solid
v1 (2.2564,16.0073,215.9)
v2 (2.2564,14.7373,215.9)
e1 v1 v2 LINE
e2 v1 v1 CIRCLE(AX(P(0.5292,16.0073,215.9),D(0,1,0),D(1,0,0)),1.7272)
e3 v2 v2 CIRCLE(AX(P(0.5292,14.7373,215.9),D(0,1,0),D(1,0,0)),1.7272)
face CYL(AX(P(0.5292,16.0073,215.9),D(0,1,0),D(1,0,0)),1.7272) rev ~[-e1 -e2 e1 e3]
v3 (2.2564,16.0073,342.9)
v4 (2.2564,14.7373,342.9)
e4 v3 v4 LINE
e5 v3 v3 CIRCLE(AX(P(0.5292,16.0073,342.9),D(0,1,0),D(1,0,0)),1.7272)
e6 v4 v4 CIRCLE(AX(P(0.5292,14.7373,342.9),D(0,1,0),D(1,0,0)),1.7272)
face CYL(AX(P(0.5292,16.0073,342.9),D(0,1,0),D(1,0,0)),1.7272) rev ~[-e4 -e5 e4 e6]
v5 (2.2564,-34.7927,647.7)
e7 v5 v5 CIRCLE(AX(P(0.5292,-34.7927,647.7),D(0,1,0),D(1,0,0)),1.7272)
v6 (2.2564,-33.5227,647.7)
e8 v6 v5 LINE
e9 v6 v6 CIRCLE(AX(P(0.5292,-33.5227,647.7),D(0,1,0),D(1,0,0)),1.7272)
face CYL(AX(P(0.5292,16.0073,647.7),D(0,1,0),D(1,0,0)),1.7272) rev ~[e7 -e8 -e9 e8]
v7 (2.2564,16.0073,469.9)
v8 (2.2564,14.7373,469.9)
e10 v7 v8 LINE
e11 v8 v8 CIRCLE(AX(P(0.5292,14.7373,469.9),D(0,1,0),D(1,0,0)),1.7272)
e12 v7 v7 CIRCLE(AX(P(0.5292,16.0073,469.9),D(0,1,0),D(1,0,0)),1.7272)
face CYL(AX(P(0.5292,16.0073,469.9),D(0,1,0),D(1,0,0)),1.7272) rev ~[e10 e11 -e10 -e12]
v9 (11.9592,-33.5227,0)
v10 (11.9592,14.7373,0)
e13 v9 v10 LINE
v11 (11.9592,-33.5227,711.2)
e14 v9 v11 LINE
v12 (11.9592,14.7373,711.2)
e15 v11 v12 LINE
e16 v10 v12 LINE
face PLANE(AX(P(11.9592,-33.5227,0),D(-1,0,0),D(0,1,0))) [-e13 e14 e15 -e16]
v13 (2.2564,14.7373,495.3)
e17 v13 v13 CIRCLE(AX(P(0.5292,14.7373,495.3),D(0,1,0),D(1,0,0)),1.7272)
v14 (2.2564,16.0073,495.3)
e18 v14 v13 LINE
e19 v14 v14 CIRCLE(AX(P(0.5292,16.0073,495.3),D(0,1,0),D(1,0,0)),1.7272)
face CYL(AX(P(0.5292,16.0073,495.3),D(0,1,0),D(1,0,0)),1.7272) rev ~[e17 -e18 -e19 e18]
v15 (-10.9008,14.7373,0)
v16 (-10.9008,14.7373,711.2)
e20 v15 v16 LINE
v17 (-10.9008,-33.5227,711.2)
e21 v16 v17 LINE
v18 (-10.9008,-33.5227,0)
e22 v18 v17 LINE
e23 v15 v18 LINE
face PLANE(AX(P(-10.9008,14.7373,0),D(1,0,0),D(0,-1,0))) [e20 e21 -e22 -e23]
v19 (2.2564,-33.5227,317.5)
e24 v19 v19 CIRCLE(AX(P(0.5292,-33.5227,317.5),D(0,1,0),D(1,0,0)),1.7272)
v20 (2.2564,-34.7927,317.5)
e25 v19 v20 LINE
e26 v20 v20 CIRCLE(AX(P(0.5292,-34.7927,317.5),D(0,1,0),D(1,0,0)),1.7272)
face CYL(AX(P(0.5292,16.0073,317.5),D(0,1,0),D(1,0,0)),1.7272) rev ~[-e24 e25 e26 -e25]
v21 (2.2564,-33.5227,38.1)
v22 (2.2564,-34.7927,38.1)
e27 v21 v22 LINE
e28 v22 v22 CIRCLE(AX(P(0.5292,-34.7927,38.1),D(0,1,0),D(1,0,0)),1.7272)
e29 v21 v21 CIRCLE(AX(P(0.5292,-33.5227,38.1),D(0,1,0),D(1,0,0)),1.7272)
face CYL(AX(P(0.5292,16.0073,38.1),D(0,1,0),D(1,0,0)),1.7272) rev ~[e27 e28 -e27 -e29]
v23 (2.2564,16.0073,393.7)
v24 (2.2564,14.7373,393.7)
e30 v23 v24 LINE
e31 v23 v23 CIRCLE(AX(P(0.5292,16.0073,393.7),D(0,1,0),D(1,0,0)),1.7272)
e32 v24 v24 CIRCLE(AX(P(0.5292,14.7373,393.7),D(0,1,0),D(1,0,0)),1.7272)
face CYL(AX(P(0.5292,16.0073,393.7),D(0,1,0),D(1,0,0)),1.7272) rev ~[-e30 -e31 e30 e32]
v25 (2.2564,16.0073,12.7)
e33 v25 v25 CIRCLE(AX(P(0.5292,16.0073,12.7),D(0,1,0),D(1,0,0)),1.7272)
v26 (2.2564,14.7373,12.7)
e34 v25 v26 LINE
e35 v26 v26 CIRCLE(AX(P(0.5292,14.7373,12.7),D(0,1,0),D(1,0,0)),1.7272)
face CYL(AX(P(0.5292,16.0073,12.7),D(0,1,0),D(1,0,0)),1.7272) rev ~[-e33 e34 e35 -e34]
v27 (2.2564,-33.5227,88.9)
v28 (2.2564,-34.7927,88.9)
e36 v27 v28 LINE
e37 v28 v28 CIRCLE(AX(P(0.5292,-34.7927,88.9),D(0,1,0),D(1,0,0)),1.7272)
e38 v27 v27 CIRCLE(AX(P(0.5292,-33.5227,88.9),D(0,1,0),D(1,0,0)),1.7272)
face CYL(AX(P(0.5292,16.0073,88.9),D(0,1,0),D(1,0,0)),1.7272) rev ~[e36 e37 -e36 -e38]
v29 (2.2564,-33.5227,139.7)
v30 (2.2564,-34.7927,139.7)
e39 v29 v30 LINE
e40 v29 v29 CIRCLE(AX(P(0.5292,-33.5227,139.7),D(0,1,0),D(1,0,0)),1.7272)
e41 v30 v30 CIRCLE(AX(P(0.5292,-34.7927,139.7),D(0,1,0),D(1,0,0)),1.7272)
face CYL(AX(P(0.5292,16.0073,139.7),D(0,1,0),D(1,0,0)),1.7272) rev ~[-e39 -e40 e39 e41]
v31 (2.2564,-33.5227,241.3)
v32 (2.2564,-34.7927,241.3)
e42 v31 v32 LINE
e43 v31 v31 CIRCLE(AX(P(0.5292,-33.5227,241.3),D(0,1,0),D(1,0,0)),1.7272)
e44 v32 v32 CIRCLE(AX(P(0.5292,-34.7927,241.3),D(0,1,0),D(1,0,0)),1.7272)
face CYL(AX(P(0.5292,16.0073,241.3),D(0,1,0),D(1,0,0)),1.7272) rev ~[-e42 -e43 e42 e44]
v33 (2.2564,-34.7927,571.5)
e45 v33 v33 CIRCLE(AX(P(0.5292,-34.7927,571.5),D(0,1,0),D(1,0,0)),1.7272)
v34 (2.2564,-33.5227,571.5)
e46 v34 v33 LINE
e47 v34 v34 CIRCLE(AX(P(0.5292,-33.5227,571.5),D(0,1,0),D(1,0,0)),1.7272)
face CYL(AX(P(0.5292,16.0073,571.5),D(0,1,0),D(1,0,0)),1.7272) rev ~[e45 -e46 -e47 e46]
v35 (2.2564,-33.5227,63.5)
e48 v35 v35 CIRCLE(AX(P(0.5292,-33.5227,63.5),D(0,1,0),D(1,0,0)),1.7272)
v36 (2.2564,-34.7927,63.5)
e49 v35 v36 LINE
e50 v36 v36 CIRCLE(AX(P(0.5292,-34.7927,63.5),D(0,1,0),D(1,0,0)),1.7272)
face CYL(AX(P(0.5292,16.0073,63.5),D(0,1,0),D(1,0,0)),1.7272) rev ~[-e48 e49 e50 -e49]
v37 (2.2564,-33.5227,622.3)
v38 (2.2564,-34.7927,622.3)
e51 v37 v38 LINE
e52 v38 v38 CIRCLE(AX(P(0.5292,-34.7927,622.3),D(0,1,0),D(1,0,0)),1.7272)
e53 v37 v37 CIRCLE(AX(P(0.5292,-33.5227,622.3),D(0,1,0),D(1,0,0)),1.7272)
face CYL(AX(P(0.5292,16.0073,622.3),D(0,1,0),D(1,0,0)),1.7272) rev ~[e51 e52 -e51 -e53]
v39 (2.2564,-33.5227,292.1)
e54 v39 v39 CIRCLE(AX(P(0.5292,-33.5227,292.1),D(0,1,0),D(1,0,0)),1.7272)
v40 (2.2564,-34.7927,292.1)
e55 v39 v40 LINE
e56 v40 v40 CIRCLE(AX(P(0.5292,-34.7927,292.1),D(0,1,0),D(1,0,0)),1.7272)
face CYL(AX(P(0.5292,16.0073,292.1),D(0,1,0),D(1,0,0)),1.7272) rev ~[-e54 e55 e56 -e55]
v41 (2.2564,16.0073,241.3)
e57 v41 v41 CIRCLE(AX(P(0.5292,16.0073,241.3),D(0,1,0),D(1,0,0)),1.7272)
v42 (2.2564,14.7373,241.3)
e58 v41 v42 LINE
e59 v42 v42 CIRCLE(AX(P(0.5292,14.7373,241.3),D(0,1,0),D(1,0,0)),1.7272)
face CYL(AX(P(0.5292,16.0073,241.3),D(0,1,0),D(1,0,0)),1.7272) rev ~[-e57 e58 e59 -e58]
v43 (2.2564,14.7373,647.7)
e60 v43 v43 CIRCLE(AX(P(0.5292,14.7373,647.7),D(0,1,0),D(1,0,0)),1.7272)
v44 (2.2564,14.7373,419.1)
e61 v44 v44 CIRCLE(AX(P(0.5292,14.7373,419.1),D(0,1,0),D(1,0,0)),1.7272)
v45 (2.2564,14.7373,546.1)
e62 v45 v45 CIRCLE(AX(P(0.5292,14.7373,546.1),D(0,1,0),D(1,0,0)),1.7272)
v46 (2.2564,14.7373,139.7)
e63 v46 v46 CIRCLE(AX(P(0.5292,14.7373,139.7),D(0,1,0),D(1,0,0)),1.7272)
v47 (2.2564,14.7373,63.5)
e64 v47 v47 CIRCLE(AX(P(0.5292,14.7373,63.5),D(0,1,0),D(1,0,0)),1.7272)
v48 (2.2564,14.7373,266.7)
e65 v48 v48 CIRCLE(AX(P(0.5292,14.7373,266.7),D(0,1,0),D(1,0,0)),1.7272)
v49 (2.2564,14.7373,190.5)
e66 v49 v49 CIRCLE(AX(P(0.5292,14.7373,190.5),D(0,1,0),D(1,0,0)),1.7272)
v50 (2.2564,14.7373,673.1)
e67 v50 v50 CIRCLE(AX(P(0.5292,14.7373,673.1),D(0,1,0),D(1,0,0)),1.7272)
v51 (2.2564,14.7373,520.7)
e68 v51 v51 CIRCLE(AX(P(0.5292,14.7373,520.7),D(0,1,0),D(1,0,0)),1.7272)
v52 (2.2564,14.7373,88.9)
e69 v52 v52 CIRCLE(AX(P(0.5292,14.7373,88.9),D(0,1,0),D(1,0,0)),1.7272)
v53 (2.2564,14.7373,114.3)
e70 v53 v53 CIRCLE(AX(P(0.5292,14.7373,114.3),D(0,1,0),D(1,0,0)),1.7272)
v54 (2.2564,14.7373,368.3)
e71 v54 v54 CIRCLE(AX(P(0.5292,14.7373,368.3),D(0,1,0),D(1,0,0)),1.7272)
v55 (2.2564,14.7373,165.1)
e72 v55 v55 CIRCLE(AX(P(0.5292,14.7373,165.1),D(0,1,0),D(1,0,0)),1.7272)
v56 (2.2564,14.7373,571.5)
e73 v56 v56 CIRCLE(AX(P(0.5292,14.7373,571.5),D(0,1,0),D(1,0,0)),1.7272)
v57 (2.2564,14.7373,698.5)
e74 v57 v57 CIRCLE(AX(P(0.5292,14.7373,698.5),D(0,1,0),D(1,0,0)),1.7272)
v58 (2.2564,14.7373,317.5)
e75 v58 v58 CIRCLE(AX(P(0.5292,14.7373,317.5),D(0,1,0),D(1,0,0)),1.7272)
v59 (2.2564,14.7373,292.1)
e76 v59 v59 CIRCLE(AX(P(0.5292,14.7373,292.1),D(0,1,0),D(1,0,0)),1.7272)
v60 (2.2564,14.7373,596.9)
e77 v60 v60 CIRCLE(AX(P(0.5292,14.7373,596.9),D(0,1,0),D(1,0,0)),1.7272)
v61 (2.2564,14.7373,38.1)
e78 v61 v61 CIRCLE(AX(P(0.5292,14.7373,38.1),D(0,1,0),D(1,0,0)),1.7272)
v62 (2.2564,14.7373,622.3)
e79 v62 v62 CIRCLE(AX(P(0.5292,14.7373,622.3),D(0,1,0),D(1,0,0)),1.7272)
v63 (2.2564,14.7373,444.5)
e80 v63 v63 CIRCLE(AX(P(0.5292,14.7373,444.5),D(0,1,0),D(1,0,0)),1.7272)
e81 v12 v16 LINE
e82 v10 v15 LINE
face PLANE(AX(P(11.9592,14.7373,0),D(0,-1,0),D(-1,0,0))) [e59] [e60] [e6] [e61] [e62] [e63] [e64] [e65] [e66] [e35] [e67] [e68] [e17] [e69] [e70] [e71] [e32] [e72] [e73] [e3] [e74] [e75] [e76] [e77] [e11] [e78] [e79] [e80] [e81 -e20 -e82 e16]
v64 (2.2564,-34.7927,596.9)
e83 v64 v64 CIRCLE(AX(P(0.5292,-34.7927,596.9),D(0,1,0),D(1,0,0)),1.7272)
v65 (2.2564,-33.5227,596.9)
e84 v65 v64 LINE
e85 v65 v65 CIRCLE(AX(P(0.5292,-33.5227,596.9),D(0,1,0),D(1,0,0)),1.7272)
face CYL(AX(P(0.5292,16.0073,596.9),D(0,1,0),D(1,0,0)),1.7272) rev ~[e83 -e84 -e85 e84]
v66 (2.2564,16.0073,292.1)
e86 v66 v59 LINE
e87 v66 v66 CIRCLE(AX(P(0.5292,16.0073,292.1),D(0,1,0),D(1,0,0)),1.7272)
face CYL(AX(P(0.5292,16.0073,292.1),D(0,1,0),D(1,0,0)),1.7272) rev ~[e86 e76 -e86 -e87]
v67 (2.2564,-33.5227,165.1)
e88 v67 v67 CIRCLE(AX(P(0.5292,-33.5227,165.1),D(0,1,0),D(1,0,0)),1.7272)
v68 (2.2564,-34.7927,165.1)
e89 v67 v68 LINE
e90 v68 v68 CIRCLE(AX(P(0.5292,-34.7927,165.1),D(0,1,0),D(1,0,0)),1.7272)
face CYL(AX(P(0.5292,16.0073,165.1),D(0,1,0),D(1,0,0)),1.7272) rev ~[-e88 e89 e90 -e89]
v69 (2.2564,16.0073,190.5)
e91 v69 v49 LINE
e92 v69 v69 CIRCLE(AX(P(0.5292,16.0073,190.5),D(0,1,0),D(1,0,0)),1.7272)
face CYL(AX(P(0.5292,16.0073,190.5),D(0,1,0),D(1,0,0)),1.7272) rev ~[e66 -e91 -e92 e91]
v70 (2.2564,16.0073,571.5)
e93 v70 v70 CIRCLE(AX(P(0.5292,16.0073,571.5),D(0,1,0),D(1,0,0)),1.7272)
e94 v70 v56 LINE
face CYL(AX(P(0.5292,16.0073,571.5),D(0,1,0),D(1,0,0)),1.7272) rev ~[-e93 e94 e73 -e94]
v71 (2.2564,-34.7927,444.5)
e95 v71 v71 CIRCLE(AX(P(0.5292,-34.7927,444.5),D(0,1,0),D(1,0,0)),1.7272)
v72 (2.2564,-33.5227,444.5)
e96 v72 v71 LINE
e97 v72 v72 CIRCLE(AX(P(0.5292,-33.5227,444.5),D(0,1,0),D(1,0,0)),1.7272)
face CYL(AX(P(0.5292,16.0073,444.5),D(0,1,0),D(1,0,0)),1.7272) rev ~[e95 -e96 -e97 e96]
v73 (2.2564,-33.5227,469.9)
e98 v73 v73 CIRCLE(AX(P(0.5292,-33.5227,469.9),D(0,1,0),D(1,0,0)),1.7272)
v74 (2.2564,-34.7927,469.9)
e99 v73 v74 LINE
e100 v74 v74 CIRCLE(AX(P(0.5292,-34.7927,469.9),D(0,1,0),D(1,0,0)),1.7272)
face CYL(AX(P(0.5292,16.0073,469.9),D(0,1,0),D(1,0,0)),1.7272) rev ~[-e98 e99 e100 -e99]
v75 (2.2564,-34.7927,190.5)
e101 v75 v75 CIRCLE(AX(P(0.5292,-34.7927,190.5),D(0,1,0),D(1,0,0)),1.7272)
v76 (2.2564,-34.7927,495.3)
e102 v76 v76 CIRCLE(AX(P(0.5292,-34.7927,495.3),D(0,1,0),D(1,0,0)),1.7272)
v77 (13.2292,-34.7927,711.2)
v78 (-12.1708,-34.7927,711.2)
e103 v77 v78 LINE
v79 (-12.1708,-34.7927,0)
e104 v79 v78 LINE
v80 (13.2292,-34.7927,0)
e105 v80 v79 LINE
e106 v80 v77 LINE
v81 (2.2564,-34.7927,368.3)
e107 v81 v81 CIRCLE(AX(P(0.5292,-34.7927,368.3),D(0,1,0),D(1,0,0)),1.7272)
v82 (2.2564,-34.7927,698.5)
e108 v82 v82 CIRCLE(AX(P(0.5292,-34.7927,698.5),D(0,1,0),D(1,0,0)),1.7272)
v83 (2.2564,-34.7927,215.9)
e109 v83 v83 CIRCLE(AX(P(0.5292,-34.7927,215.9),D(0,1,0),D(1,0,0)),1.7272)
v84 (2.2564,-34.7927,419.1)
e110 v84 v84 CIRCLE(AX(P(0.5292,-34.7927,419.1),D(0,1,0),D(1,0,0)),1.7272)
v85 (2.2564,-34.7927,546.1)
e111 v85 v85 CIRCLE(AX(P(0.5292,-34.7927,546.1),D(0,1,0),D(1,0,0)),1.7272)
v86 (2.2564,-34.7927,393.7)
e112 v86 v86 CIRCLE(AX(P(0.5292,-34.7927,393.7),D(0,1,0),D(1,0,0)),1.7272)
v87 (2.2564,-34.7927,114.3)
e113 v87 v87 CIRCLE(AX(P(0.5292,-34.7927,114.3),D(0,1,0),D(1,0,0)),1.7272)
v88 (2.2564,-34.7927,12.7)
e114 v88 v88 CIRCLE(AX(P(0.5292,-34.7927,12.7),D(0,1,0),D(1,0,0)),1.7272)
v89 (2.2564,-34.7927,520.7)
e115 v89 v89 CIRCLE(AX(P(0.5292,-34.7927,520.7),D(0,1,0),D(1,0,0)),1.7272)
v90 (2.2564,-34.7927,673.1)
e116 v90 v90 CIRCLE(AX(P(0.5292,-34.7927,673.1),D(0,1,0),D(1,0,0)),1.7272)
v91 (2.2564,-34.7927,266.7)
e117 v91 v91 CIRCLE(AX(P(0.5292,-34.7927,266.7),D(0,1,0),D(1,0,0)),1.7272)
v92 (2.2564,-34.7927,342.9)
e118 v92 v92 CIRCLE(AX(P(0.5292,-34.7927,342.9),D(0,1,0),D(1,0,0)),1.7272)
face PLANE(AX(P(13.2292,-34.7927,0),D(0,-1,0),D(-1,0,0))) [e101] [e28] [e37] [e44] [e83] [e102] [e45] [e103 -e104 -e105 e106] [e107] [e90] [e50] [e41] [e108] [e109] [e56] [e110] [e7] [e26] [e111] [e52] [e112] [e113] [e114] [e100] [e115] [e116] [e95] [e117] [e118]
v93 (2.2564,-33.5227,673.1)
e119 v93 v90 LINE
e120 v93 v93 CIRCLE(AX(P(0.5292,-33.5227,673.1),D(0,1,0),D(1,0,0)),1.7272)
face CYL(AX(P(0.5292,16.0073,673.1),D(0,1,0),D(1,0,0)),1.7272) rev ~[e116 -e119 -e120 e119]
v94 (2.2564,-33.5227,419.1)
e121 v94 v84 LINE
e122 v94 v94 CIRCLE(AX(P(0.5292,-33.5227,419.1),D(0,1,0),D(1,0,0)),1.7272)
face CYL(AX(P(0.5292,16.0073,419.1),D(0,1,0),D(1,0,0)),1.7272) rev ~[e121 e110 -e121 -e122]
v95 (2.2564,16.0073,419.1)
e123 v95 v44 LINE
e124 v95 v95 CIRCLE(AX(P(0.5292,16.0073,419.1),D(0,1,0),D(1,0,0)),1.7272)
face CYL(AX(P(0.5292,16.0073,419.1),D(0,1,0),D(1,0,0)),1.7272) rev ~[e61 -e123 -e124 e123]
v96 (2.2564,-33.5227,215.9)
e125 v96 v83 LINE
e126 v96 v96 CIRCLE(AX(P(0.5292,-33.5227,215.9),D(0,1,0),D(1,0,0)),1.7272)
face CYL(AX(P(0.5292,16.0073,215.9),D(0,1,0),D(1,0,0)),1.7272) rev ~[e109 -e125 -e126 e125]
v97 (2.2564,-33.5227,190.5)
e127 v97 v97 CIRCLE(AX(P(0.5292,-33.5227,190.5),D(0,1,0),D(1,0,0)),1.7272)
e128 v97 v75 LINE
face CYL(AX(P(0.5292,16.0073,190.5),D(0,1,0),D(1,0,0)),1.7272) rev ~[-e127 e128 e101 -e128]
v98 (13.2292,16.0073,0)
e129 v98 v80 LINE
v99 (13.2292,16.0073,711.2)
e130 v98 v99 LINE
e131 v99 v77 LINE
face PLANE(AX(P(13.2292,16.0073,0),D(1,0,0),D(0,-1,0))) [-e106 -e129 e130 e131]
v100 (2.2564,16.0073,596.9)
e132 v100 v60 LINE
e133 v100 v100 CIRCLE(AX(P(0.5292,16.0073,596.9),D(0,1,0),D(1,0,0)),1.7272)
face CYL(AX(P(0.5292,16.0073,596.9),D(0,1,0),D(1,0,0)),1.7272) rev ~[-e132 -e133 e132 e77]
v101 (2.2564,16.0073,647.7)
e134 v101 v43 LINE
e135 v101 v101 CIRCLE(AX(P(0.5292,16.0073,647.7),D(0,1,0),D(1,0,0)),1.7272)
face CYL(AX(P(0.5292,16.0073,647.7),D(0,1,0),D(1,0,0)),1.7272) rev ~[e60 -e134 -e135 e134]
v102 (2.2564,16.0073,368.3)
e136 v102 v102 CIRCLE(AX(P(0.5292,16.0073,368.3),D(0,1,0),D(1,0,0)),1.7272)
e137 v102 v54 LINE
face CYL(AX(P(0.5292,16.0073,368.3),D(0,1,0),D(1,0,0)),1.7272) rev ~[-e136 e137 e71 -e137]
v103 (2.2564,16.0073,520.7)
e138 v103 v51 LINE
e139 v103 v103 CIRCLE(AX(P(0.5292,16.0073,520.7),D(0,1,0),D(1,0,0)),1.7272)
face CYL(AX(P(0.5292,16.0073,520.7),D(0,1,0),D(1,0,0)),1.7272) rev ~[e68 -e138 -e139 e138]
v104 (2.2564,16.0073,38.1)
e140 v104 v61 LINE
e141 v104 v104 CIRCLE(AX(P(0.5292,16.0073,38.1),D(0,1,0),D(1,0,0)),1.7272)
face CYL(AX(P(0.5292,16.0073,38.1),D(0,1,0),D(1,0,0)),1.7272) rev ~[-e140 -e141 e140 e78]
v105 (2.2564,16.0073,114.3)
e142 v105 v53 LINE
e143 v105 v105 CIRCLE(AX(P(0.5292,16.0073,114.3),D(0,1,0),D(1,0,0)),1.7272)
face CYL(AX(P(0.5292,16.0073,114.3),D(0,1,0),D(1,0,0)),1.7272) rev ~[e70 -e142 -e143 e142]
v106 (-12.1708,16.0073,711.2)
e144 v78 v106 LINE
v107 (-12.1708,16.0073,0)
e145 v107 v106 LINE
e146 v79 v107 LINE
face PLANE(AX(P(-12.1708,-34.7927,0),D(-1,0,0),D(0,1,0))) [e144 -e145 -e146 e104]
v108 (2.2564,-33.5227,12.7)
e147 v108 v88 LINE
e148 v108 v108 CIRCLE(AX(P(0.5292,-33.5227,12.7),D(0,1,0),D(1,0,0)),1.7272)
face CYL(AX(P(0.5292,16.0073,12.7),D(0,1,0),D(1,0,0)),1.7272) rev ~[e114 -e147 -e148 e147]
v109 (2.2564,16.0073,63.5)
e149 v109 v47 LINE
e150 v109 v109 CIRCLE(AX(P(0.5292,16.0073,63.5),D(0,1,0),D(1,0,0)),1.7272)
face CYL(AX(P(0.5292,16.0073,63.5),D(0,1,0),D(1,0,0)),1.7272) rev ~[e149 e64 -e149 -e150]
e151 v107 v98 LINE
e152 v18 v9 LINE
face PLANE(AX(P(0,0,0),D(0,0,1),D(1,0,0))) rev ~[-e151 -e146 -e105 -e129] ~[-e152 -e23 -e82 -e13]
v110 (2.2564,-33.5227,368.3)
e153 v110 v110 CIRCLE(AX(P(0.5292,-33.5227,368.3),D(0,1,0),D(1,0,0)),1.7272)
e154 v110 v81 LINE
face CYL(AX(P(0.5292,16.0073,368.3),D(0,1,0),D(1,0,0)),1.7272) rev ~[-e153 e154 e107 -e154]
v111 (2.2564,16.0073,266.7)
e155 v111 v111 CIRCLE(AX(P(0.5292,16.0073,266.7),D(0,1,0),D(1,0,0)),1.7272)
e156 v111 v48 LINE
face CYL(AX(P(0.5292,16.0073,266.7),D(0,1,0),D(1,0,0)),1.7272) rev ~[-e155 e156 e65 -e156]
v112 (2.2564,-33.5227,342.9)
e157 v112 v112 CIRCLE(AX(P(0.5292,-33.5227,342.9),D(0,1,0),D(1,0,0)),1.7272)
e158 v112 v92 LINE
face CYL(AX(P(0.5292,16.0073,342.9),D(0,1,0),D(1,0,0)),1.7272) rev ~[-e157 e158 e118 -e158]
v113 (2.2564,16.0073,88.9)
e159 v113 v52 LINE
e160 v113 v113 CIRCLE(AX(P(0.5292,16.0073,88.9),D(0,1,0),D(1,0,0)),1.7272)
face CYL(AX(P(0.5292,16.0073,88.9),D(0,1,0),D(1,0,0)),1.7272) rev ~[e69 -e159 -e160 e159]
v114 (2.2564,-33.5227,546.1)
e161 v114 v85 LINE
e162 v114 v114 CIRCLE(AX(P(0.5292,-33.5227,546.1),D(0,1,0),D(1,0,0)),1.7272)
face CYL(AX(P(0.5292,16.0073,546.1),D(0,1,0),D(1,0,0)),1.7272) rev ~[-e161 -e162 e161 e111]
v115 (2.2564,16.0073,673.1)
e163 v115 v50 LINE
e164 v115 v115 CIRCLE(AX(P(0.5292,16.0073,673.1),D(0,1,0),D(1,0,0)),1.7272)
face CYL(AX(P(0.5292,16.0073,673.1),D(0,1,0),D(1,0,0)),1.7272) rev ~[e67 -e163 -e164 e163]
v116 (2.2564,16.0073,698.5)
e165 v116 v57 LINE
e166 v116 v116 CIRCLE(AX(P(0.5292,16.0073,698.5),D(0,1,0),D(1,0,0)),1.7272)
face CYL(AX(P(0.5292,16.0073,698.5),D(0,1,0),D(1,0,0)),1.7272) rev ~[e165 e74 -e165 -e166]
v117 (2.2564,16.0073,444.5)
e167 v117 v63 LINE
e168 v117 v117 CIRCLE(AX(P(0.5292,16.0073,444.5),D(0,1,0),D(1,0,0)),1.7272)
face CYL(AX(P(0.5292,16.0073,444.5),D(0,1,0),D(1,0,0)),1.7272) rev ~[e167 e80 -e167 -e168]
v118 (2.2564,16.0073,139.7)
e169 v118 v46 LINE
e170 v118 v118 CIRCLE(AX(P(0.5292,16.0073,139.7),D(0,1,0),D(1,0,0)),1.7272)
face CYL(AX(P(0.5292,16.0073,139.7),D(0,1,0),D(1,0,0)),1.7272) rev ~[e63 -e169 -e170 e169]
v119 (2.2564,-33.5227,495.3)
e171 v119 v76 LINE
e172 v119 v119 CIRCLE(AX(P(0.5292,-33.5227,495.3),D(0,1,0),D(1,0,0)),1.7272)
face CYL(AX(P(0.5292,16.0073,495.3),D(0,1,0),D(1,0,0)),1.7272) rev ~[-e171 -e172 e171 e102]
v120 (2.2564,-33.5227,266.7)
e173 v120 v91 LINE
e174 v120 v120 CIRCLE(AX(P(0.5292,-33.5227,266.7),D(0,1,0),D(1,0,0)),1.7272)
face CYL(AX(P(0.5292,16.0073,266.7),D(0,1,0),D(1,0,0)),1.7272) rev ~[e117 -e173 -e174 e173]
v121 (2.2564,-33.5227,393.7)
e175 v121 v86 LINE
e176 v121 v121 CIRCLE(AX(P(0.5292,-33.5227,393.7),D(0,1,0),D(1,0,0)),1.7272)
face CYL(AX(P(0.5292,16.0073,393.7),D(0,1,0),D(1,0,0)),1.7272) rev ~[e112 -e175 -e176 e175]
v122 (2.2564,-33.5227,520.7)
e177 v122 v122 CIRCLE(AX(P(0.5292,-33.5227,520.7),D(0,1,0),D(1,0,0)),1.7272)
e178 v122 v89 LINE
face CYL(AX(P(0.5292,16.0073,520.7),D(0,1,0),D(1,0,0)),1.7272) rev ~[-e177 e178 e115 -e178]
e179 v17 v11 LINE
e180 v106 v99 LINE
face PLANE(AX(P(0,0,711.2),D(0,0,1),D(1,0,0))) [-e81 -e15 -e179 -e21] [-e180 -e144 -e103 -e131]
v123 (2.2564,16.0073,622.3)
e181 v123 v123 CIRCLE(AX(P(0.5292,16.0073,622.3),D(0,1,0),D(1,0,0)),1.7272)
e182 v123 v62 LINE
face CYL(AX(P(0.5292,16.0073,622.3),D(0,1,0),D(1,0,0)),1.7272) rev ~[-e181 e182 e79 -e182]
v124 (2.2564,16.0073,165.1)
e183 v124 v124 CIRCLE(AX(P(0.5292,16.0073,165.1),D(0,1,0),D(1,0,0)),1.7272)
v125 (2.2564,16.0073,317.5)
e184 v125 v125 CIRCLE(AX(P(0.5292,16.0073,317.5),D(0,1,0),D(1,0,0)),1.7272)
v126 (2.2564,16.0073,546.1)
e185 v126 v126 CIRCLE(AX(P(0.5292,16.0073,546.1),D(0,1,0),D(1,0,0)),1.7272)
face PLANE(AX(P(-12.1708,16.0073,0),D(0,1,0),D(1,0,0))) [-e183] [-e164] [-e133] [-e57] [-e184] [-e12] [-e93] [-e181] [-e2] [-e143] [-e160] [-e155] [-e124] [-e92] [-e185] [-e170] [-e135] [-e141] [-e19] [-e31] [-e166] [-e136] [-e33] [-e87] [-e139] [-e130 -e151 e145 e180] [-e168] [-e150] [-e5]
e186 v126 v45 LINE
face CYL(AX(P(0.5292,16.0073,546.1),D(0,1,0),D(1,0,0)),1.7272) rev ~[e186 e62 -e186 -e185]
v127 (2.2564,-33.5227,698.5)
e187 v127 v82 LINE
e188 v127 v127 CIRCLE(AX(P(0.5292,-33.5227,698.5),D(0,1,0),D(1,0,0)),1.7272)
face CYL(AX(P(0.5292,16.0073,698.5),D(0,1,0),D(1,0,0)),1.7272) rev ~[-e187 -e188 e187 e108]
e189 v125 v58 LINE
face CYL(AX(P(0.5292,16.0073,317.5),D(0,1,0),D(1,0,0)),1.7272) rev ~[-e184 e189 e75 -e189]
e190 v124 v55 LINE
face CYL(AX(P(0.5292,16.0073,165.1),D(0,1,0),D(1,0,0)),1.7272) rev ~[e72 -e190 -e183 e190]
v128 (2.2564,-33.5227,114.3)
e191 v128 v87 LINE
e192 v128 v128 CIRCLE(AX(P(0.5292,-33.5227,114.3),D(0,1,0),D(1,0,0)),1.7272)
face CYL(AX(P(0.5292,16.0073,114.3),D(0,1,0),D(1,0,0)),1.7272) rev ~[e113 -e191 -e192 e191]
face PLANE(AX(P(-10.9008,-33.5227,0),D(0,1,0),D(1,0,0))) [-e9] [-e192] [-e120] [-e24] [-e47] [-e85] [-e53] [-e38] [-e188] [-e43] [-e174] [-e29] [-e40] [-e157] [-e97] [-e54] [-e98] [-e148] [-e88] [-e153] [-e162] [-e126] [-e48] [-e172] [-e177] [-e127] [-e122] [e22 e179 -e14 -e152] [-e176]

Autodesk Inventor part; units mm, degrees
ref_plane "YZ Plane" through (0, 0, 0) normal (1, 0, 0) x (0, 1, 0)
ref_plane "XZ Plane" through (0, 0, 0) normal (0, 1, 0) x (-1, 0, 0)
ref_plane "XY Plane" through (0, 0, 0) normal (0, 0, 1) x (1, 0, 0)
sketch "Sketch1" plane through (0, 0, 0) normal (0, 0, 1) x (1, 0, 0)
  line L0 (-12.1708, 16.0073) -> (13.2292, 16.0073)
  line L1 (13.2292, 16.0073) -> (13.2292, -34.7927)
  line L2 (13.2292, -34.7927) -> (-12.1708, -34.7927)
  line L3 (-12.1708, -34.7927) -> (-12.1708, 16.0073)
  line L4 (11.9592, 14.7373) -> (-10.9008, 14.7373)
  line L5 (-10.9008, 14.7373) -> (-10.9008, -33.5227)
  line L6 (-10.9008, -33.5227) -> (11.9592, -33.5227)
  line L7 (11.9592, -33.5227) -> (11.9592, 14.7373)
  point P0 (0, 0)
  dimension "d0" = 25.4
  dimension "d1" = 50.8
  dimension "d2" = 1.27
extrude "Extrusion1" add sketch "Sketch1" along normal blind 711.2
sketch "Sketch2" plane through (-12.1708, 16.0073, 0) normal (0, 1, 0) x (1, 0, 0)
  circle A0 centre (12.7, -12.7) radius 1.7272
  line L0 (25.4, 0) -> (0, 0) projected
  line L1 (0, 0) -> (0, -711.2) projected
  point P0 (12.1708, 0)
  dimension "d5" = 3.4544
  dimension "d6" = 12.7
  dimension "d7" = 12.7
extrude "Extrusion2" cut sketch "Sketch2" against normal through all
pattern_linear "Rectangular Pattern1" count 71 spacing 25.4 along (0, 0, 1) of "Extrusion2"
equation "\"d3\" = d13"
equation "\"d10\" = d14"
equation "\"d13\" = 711.2"
equation "\"d14\" = d13"
properties part number "VersaFrame(SwerveCrossbars)"
